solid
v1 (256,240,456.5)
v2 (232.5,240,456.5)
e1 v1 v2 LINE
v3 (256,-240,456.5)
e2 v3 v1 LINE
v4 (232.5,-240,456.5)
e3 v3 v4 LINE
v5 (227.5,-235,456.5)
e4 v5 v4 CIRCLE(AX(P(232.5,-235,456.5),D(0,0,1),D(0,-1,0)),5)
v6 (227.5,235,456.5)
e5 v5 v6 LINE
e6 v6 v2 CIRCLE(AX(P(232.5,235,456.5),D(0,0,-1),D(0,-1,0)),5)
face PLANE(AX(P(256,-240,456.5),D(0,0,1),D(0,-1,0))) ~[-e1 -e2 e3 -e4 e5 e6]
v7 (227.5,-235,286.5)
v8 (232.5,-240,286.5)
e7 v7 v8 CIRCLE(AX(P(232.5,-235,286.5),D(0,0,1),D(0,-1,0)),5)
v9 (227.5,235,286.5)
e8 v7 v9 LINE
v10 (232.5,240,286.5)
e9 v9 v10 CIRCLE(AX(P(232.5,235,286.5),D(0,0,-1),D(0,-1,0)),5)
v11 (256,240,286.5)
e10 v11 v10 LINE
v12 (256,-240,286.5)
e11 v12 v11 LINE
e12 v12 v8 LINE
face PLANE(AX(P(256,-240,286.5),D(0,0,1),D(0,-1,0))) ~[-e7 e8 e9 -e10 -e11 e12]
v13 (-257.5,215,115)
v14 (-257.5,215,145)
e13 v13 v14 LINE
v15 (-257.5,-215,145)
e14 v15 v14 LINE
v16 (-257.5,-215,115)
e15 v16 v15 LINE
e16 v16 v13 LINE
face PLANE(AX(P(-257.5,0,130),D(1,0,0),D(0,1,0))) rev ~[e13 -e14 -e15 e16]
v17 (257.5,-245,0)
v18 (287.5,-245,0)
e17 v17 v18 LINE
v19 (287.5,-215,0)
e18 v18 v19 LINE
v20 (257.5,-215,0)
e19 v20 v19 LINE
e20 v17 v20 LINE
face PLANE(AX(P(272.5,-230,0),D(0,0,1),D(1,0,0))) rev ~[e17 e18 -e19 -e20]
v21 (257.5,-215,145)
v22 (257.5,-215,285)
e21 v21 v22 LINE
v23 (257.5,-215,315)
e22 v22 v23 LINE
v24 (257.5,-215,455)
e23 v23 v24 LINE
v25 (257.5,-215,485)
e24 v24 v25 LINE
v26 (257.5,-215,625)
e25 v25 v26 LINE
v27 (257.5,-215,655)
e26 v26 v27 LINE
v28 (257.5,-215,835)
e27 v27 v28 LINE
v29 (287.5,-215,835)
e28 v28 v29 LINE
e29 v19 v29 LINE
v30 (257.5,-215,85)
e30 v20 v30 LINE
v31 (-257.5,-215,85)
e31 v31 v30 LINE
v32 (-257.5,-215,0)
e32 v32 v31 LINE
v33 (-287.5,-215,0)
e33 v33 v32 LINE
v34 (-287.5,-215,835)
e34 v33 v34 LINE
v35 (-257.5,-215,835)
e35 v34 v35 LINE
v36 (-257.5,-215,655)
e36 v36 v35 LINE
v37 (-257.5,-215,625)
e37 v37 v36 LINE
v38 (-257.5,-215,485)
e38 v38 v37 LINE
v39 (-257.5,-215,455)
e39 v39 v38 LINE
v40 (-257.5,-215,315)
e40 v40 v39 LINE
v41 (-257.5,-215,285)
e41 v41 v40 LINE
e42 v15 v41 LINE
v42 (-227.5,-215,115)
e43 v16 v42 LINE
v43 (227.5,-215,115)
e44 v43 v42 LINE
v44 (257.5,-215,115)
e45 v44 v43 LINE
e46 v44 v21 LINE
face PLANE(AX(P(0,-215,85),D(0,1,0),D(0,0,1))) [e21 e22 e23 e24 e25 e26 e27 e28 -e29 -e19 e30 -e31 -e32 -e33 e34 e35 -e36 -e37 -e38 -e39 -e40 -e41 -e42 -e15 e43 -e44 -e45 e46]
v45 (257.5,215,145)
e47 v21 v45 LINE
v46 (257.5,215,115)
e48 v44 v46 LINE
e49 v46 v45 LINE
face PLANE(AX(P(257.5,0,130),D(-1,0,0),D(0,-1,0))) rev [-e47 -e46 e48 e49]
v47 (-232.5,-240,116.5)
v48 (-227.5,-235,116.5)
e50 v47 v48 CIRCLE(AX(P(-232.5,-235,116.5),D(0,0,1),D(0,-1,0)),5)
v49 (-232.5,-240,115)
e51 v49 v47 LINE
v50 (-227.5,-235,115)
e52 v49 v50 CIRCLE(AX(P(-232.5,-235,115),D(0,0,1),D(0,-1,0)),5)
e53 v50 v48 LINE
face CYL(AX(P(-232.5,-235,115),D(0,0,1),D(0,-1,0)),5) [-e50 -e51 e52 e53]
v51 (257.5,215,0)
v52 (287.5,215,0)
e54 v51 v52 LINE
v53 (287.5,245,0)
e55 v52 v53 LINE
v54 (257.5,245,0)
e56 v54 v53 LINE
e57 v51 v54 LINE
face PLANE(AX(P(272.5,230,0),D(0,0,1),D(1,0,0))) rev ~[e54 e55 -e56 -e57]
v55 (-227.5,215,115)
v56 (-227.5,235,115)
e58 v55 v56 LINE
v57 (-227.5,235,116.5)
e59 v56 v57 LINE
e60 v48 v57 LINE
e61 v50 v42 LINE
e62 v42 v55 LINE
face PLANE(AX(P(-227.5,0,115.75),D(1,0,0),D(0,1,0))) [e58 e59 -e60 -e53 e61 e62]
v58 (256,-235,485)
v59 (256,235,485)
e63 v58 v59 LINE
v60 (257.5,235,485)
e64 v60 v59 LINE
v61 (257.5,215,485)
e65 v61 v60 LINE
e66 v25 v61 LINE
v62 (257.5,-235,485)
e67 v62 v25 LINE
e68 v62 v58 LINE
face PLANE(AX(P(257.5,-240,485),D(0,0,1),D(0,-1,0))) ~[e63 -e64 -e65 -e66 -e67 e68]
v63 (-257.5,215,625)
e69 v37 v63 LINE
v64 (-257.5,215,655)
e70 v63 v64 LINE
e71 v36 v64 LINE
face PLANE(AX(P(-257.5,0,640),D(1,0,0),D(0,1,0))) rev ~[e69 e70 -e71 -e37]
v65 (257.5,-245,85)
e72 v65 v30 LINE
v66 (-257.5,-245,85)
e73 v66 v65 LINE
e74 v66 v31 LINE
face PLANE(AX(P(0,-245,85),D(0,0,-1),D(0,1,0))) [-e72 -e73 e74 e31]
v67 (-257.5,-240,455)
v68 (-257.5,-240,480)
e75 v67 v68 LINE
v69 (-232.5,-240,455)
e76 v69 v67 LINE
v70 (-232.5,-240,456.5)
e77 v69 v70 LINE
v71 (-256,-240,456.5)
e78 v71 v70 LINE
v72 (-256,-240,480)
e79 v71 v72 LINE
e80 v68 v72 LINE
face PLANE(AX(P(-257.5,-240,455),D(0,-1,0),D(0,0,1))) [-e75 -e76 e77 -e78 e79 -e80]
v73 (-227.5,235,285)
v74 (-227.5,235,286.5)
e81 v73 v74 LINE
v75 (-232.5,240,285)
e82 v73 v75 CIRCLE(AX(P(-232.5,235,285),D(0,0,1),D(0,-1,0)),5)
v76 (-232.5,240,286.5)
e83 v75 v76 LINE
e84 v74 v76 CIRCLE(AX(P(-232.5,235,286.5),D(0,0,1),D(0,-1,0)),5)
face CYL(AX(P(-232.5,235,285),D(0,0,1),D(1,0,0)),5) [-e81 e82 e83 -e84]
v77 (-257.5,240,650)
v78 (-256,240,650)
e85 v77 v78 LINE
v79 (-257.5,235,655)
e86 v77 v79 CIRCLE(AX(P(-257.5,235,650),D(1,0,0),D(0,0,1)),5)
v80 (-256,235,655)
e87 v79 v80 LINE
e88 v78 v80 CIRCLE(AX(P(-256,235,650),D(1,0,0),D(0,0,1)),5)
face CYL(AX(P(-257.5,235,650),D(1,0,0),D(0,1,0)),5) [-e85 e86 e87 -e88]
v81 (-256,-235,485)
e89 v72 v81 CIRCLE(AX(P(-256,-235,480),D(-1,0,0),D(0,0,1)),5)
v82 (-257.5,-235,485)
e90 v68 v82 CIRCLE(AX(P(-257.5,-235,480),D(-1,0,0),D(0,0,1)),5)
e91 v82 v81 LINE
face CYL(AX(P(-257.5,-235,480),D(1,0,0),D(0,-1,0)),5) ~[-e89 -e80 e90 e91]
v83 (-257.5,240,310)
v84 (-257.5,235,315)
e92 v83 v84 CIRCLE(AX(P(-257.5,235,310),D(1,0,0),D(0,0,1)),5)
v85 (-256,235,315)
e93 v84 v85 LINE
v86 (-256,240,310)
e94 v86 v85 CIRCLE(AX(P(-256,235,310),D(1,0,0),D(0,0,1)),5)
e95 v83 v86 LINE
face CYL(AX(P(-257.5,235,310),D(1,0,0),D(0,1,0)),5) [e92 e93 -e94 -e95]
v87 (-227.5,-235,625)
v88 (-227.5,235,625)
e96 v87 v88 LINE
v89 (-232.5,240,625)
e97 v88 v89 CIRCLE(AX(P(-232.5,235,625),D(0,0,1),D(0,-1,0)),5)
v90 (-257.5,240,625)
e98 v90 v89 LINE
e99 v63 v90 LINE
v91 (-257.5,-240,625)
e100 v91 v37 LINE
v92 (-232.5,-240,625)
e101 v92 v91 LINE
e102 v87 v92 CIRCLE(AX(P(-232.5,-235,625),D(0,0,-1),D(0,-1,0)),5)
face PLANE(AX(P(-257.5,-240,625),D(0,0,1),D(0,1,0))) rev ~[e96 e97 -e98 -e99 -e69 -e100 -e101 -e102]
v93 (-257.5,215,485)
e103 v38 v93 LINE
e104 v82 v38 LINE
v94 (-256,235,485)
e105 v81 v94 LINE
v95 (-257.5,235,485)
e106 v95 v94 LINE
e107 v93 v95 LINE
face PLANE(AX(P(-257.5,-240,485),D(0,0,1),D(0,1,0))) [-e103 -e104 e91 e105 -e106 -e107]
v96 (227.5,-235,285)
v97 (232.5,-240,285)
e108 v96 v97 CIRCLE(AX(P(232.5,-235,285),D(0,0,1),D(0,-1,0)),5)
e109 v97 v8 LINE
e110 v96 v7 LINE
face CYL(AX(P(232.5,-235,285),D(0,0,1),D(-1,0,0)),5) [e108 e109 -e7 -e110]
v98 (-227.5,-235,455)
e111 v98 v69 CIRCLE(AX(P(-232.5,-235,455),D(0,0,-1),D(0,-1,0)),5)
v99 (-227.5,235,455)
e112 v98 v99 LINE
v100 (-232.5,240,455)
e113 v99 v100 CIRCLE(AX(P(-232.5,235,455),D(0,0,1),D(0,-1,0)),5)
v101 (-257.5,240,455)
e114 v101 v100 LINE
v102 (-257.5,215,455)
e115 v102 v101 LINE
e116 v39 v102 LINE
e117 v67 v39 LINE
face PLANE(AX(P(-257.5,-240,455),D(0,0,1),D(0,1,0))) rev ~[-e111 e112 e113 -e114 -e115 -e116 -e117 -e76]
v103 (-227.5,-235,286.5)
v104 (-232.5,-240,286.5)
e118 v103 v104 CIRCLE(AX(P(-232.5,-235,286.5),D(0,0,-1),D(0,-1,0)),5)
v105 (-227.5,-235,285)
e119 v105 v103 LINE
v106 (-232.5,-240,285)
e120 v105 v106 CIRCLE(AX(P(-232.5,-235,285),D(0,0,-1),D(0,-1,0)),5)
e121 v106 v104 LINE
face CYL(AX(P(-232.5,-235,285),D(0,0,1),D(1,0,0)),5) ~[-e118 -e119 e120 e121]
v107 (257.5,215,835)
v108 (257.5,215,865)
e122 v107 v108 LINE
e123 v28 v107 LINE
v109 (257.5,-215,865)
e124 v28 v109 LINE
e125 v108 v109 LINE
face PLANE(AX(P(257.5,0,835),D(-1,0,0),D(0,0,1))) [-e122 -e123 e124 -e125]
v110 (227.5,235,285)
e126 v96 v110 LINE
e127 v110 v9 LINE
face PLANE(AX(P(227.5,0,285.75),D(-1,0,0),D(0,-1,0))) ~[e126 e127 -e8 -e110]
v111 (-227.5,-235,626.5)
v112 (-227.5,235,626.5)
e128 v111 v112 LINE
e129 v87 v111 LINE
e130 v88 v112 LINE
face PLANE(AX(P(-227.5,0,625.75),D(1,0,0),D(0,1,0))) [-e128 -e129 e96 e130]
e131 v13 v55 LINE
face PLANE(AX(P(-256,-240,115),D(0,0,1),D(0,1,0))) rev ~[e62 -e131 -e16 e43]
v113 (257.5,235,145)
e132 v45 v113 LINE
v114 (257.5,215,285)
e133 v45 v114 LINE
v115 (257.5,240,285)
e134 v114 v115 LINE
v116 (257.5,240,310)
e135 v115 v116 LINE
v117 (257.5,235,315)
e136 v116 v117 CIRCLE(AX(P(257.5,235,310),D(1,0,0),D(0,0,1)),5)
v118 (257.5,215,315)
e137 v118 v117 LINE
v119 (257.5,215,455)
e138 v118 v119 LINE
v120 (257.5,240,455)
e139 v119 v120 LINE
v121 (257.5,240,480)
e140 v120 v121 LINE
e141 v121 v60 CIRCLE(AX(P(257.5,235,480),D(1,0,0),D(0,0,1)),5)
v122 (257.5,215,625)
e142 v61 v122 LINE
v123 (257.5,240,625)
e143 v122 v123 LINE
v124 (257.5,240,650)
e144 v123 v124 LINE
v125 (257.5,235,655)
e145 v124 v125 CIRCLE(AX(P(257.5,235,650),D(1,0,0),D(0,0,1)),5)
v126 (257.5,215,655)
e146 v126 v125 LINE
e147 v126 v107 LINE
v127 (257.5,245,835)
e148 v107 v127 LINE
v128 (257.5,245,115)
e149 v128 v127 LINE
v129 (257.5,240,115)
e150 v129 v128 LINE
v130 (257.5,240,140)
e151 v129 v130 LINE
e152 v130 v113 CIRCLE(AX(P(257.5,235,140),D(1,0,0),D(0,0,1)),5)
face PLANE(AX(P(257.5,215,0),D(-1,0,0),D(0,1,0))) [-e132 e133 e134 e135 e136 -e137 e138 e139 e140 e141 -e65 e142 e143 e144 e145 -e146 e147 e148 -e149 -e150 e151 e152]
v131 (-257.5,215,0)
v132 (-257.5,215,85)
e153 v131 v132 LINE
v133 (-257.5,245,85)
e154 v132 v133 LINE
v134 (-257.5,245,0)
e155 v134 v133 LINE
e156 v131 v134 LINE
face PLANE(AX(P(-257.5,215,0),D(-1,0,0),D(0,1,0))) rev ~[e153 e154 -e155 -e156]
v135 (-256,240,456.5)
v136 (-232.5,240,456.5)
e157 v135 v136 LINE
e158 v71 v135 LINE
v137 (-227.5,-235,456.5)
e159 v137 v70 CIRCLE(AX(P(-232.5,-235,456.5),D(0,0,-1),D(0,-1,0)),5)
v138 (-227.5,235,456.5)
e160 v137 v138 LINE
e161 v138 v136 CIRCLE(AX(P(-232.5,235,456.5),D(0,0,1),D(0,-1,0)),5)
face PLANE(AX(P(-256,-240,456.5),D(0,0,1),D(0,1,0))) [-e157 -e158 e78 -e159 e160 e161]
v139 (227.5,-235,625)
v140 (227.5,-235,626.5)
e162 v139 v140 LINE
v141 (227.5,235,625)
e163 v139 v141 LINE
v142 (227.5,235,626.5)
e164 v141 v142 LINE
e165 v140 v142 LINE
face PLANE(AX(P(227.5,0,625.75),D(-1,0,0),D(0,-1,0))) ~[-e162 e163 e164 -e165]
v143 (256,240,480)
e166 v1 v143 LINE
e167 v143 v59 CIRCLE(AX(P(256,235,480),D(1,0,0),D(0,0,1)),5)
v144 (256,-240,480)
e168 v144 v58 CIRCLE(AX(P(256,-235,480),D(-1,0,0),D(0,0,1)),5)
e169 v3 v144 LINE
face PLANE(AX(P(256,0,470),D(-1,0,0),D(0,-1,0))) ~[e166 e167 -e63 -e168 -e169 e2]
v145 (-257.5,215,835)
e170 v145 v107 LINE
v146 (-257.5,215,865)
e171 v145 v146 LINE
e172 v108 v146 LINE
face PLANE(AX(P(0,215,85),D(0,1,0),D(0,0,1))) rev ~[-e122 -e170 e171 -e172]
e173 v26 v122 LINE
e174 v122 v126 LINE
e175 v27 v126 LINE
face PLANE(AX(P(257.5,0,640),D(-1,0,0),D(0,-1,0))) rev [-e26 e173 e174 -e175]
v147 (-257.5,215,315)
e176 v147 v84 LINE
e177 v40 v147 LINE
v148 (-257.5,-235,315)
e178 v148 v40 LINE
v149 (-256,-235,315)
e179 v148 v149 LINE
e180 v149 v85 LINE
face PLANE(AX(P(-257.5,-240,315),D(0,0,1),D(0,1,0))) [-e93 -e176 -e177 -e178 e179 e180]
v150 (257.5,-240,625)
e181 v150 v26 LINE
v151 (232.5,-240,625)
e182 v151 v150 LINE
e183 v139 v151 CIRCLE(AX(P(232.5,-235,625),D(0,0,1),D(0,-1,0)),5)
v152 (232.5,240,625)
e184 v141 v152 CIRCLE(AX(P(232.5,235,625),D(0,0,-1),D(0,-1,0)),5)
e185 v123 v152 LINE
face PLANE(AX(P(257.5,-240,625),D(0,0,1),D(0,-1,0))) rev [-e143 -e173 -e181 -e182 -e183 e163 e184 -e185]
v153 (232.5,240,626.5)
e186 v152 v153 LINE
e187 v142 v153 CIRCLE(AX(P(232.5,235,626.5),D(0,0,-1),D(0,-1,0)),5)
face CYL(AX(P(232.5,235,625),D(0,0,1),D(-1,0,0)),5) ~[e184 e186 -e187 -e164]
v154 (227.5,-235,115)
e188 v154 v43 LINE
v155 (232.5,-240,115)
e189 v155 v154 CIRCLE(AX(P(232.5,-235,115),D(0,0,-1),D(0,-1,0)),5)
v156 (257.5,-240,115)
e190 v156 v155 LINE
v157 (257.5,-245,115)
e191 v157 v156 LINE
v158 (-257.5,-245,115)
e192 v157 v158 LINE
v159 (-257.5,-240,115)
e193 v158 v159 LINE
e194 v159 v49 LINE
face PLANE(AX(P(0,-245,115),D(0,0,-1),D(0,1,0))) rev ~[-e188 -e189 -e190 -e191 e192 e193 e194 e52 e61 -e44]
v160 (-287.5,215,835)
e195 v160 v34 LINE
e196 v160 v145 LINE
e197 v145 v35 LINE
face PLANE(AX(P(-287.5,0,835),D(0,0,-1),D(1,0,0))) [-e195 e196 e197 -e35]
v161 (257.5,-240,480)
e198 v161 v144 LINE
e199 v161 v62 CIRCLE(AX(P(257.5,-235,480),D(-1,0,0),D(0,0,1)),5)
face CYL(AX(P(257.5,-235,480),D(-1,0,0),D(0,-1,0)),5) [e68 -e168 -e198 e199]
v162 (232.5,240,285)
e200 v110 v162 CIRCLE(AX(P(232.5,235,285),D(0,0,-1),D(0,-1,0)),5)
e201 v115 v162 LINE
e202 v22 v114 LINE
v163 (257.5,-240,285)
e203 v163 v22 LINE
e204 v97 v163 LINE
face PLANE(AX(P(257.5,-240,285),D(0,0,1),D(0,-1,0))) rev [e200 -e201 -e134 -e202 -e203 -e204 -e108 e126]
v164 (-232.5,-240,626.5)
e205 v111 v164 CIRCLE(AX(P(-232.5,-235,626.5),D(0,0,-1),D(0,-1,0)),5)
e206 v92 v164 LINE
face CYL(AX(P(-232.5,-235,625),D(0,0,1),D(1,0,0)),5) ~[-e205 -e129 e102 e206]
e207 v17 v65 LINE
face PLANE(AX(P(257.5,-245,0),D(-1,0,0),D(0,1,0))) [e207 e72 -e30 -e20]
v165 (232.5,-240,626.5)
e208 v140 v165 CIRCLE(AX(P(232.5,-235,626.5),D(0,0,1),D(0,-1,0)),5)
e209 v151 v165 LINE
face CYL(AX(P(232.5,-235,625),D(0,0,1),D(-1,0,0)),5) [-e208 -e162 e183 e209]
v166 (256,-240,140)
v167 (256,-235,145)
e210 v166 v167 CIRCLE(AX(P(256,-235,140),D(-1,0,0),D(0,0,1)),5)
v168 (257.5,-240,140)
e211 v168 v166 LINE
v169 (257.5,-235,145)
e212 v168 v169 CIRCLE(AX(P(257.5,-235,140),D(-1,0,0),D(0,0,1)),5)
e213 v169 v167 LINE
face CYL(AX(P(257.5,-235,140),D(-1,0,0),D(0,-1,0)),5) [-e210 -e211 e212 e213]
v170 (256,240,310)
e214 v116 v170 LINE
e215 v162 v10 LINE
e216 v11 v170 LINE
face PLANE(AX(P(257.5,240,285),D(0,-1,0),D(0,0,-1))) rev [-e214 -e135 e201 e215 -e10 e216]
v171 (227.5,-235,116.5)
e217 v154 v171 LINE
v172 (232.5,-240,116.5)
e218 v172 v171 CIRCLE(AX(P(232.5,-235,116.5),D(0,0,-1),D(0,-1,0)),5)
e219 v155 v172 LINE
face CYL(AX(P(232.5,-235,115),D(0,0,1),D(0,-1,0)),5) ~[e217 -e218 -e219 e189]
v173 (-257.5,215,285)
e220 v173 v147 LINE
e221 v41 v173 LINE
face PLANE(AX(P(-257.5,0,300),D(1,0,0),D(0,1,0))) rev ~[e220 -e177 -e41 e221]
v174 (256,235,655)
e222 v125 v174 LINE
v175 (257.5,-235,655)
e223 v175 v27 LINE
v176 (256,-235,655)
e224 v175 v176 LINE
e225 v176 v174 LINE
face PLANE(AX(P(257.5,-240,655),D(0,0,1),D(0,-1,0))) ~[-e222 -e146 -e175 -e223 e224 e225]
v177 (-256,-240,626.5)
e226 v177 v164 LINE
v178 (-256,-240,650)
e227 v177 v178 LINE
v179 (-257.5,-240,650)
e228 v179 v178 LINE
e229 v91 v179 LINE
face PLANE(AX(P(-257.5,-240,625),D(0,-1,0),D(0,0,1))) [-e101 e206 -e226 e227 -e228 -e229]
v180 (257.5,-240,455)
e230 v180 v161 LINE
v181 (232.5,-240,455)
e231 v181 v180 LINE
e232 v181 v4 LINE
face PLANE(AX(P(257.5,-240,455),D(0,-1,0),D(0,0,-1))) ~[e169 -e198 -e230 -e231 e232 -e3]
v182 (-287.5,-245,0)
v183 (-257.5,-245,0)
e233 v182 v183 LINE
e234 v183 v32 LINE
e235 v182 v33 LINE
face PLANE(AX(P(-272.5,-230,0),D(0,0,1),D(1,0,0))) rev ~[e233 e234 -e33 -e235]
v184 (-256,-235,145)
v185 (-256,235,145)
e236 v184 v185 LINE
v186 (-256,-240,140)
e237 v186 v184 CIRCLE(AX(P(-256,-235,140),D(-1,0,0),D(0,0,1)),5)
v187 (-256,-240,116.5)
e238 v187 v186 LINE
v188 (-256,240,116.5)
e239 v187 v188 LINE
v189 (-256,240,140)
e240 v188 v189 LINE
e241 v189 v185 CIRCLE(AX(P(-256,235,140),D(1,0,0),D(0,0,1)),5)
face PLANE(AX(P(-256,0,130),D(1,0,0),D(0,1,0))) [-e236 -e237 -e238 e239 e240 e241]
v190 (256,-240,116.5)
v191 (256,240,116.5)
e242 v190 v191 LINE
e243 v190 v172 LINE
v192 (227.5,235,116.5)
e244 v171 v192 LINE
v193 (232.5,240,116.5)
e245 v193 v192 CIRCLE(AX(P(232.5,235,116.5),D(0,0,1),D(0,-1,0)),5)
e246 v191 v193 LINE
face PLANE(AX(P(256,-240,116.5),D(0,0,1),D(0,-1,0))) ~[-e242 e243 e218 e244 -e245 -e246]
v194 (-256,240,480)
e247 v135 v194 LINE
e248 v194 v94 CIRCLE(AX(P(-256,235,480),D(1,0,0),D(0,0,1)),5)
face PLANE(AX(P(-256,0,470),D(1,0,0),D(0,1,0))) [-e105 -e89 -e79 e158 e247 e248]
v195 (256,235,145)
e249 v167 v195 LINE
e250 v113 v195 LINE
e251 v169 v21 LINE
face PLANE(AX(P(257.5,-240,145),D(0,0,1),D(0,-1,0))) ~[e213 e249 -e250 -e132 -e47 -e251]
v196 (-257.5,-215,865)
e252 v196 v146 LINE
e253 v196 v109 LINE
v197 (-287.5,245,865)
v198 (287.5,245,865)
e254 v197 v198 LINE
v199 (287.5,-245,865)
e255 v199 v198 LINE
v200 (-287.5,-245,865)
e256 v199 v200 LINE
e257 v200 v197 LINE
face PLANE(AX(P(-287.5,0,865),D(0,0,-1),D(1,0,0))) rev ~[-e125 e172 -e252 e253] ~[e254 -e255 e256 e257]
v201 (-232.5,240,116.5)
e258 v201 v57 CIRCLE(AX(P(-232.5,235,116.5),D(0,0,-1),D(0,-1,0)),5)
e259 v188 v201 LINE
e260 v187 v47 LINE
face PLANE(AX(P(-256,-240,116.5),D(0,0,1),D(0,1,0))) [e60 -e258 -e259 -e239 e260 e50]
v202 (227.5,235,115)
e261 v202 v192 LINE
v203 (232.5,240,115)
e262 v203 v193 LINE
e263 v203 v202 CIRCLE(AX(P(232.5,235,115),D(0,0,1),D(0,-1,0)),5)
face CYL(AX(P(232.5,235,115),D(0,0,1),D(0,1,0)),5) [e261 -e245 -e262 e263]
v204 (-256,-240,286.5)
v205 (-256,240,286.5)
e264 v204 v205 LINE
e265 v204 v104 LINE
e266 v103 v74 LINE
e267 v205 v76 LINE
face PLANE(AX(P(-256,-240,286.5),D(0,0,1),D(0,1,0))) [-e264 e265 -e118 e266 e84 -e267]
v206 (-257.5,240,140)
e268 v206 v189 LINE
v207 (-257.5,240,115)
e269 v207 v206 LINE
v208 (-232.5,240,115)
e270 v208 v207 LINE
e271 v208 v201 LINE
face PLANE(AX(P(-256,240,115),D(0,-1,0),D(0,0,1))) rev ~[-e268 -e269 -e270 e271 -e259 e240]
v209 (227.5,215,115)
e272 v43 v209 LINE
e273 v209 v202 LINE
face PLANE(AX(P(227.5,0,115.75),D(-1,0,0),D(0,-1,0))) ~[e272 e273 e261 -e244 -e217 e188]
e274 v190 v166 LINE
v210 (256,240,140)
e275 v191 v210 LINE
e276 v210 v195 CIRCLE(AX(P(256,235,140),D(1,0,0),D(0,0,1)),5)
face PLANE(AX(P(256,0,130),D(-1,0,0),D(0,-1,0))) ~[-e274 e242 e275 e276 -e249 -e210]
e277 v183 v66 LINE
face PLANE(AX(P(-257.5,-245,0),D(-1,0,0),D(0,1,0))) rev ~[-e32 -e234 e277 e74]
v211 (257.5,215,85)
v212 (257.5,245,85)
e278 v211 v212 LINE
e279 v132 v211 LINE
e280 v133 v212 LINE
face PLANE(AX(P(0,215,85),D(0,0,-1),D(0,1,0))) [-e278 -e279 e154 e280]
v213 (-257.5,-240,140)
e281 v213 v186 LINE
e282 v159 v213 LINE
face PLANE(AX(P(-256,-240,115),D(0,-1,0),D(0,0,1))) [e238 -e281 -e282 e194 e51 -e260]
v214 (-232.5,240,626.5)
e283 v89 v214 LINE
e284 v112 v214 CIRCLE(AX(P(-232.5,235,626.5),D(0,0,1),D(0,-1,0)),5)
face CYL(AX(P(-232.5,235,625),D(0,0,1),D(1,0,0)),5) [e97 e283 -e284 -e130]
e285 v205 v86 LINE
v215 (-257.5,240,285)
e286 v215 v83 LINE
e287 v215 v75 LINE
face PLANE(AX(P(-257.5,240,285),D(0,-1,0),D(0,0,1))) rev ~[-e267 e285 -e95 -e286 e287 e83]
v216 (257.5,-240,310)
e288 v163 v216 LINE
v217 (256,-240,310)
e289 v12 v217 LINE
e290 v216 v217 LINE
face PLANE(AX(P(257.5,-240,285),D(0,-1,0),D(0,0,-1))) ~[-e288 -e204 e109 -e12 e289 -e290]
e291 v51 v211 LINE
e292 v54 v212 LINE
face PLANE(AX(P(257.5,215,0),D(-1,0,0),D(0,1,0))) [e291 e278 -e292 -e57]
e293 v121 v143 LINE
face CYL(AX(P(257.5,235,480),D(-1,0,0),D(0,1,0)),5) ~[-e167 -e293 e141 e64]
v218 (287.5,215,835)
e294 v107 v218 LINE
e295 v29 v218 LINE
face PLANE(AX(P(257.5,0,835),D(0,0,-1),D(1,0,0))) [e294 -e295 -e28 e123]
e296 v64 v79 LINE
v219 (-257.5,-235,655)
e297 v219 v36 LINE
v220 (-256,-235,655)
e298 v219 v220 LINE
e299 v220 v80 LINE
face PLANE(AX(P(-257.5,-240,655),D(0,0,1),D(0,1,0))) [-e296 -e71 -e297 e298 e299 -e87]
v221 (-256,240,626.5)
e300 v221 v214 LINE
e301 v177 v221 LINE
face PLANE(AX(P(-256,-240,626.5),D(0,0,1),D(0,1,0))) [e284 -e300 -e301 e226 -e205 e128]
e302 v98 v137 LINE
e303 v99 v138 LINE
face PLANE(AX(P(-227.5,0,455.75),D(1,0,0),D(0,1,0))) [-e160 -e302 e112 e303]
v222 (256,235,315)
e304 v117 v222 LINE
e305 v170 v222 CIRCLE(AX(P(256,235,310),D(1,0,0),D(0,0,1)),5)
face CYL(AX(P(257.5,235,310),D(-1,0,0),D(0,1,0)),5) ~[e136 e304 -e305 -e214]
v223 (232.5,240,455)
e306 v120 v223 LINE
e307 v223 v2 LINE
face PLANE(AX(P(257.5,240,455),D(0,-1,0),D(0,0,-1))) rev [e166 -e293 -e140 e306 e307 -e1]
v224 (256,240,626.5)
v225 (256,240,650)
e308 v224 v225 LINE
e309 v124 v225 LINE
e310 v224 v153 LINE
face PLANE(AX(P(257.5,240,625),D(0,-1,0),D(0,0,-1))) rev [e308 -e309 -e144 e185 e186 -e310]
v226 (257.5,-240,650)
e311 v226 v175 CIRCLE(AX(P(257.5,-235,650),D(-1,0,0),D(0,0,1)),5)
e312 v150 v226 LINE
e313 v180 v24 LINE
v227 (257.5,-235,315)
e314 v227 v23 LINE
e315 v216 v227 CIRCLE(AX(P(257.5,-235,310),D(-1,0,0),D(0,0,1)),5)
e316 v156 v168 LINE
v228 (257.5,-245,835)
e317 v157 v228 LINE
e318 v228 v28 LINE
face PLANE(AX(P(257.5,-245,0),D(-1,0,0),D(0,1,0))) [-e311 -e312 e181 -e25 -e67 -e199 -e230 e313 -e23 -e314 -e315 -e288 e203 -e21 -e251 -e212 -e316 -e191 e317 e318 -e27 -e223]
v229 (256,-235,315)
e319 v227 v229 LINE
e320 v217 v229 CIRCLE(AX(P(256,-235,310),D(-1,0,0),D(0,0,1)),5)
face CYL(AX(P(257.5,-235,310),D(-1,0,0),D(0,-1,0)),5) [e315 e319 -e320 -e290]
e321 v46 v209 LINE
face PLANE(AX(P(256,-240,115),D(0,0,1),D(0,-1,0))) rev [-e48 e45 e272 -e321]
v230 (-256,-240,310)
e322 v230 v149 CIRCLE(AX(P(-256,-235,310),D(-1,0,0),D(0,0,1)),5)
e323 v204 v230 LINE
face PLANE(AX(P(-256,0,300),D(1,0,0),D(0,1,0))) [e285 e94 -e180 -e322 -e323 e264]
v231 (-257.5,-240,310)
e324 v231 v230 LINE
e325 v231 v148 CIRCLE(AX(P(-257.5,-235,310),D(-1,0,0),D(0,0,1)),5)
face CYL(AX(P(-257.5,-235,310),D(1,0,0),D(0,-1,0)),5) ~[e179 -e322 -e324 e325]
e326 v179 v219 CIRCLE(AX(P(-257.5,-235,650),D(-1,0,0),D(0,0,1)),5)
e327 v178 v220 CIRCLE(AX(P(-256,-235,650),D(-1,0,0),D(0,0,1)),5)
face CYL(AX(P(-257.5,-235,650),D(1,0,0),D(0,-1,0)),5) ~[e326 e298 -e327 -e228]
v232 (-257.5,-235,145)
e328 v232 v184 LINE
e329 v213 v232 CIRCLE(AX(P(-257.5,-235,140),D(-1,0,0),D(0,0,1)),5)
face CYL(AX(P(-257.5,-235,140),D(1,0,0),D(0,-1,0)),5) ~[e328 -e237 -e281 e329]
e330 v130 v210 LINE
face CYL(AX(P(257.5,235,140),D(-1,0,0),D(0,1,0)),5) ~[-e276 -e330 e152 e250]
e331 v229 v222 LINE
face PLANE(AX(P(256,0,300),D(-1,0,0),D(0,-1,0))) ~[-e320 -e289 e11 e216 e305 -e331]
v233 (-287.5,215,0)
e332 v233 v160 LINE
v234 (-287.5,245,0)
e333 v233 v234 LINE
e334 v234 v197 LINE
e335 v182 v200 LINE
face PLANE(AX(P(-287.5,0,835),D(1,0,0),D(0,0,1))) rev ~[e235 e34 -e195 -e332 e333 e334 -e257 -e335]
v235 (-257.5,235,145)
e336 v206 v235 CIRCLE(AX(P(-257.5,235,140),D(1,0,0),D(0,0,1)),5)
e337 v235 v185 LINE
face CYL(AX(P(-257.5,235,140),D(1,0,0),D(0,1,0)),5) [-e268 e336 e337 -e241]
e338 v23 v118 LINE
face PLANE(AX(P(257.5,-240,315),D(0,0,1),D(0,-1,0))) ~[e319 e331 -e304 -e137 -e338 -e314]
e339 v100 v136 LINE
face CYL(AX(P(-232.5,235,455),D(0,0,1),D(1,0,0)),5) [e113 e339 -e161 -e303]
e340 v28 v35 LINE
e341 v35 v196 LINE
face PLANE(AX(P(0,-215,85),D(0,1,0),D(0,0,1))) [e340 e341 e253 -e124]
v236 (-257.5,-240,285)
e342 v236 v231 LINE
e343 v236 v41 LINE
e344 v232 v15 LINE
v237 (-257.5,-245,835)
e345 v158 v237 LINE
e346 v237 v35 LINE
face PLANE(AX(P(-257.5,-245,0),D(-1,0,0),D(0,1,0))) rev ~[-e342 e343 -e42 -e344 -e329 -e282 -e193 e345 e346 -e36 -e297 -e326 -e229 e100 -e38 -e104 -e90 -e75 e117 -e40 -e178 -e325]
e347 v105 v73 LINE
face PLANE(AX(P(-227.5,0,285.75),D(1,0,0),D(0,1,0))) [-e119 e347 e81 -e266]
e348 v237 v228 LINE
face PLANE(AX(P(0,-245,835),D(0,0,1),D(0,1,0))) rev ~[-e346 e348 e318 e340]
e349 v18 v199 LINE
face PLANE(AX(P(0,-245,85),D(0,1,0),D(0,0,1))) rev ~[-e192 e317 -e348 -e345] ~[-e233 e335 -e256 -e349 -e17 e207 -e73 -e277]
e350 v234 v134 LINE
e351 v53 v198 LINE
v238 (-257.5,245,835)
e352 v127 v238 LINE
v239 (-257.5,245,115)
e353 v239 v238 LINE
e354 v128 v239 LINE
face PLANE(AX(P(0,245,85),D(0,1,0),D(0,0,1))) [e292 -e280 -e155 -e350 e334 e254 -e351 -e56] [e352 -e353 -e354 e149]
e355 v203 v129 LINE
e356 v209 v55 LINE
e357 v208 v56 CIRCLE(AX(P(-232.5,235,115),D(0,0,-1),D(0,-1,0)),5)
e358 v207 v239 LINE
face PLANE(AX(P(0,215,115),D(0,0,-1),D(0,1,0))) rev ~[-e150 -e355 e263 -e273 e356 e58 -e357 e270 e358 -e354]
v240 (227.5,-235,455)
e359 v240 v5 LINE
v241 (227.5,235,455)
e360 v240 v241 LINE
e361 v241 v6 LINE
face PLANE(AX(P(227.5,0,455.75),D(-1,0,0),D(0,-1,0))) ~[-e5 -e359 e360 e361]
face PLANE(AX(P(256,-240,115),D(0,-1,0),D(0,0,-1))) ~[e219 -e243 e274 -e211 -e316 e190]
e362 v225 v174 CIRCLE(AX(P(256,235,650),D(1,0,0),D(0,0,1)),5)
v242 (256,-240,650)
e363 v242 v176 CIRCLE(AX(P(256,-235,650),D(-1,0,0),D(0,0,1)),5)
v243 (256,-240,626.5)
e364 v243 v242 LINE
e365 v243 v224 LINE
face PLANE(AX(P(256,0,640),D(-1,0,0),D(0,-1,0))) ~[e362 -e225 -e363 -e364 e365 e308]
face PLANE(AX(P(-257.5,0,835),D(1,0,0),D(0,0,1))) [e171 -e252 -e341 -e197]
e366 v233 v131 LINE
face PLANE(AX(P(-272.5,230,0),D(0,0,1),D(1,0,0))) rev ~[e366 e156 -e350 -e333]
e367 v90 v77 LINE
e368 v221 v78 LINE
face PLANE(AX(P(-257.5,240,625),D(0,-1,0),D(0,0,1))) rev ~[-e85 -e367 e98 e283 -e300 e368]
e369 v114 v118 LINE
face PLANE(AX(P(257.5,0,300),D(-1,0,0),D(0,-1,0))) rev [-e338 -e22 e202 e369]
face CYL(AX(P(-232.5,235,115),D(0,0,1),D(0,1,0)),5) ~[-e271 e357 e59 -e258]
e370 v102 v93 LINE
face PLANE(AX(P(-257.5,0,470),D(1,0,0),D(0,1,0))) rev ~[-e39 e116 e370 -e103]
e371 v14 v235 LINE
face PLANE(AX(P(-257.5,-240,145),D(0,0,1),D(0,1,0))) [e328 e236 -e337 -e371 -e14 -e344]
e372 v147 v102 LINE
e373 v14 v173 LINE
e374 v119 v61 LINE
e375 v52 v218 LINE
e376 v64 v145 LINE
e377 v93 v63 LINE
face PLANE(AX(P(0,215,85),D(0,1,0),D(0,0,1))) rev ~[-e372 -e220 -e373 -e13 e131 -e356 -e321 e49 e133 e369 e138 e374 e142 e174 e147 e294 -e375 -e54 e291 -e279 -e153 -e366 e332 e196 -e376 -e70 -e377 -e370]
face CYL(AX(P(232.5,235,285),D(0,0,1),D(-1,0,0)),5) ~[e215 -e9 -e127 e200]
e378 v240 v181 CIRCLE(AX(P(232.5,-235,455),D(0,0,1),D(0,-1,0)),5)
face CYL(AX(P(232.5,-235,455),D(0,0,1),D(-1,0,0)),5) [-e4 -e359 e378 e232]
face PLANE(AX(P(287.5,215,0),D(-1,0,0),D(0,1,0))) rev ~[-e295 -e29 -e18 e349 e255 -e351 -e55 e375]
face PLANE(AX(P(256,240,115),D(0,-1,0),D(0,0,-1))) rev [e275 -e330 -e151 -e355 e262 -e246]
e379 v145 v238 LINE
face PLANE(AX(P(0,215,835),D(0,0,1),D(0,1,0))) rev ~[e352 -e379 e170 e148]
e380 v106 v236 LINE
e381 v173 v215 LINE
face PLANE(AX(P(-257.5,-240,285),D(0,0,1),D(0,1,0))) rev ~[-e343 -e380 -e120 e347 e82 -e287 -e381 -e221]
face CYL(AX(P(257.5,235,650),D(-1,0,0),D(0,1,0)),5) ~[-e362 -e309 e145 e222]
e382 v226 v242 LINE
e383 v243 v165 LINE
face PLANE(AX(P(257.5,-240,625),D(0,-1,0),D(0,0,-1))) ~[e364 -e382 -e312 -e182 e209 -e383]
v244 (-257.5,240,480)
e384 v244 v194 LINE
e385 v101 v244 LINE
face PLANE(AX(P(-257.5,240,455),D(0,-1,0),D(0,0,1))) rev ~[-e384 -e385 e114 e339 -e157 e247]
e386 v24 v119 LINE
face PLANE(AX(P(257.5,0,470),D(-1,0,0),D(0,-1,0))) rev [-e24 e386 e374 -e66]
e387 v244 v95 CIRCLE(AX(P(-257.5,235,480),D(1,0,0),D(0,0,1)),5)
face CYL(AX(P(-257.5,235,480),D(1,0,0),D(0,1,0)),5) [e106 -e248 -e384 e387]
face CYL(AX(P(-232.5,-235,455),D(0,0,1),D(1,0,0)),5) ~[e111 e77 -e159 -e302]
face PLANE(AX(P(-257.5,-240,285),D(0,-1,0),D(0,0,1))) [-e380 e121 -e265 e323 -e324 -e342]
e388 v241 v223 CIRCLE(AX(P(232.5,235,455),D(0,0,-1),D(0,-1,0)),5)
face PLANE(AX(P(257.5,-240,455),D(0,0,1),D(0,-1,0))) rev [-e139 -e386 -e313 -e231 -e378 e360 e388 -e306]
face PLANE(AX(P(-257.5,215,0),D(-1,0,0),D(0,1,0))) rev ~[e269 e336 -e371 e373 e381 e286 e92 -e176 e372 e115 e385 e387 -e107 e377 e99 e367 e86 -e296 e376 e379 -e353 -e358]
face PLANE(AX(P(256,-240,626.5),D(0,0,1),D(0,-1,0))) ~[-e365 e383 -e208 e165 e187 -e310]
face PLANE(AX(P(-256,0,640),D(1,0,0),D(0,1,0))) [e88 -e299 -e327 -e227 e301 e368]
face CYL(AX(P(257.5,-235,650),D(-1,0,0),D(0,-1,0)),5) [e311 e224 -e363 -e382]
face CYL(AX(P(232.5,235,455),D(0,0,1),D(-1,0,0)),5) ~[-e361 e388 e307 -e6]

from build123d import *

# Parameters (mm, degrees)
F0_W          = 30
F0_H          = 30
F1_DEPTH      = 865
F2_W          = 30
F2_H          = 30
F3_DEPTH      = 257.5
F3_DEPTH_BACK = 257.5
F4_W          = 30
F4_H          = 30
F5_DEPTH      = 215
F5_DEPTH_BACK = 215
F6_W          = 480
F6_H          = 30
F7_DEPTH      = 1.5
F8_W          = 480
F8_H          = 1.5
F9_DEPTH      = 28.5
F10_R         = 5


with BuildPart() as f1:
    # F0 (on Top) → F1 (new body)
    with BuildSketch(Plane.XY):
        with Locations((-272.5, 230)):
            Rectangle(F0_W, F0_H)
        with Locations((272.5, 230)):
            Rectangle(F0_W, F0_H)
        with Locations((272.5, -230)):
            Rectangle(F0_W, F0_H)
        with Locations((-272.5, -230)):
            Rectangle(F0_W, F0_H)
    extrude(amount=F1_DEPTH)

    # F2 (on Right) → F3 (join, two sides)
    with BuildSketch(Plane.YZ) as f3_sk:
        with Locations((-230, 100)):
            Rectangle(F2_W, F2_H)
        with Locations((230, 100)):
            Rectangle(F2_W, F2_H)
        with Locations((-230, 850)):
            Rectangle(F2_W, F2_H)
        with Locations((230, 850)):
            Rectangle(F2_W, F2_H)
    extrude(amount=F3_DEPTH)
    extrude(f3_sk.sketch, amount=-F3_DEPTH_BACK)

    # F4 (on Front) → F5 (join, two sides)
    with BuildSketch(Plane.XZ) as f5_sk:
        with Locations((-272.5, 850)):
            Rectangle(F4_W, F4_H)
        with Locations((272.5, 850)):
            Rectangle(F4_W, F4_H)
    extrude(amount=F5_DEPTH)
    extrude(f5_sk.sketch, amount=-F5_DEPTH_BACK)



with BuildPart() as f7:
    # F6 (on face) → F7 (new body)
    with BuildSketch(Plane.YZ.offset(-257.5)):
        with Locations((0, 130)):
            Rectangle(F6_W, F6_H)
        with Locations((0, 300)):
            Rectangle(F6_W, F6_H)
        with Locations((0, 470)):
            Rectangle(F6_W, F6_H)
        with Locations((0, 640)):
            Rectangle(F6_W, F6_H)
    extrude(amount=F7_DEPTH)


with BuildPart() as f1_1:
    add(f1.part)

    add(f7.part)  # F9 merges F7
    # F8 (on face) → F9 (join)
    with BuildSketch(Plane.YZ.offset(-256)):
        with Locations((0, 115.75)):
            Rectangle(F8_W, F8_H)
        with Locations((0, 285.75)):
            Rectangle(F8_W, F8_H)
        with Locations((0, 455.75)):
            Rectangle(F8_W, F8_H)
        with Locations((0, 625.75)):
            Rectangle(F8_W, F8_H)
    extrude(amount=F9_DEPTH)

    # F10
    f10_edges = [f1_1.edges().sort_by_distance(p)[0] for p in [
        (-256.75, -240, 145),
        (-256.75, 240, 145),
        (-227.5, 240, 115.75),
        (-227.5, -240, 115.75),
        (-256.75, -240, 315),
        (-227.5, -240, 285.75),
        (-227.5, -240, 455.75),
        (-256.75, -240, 485),
        (-227.5, -240, 625.75),
        (-256.75, -240, 655),
        (-256.75, 240, 655),
        (-227.5, 240, 625.75),
        (-227.5, 240, 455.75),
        (-256.75, 240, 485),
        (-227.5, 240, 285.75),
        (-256.75, 240, 315),
    ]]
    fillet(f10_edges, radius=F10_R)

    # F11: F1 across plane


with BuildPart() as f1_2:
    add(f1_1.part)
    add(f1_1.part.mirror(Plane.YZ))


solid = f1_2.part
